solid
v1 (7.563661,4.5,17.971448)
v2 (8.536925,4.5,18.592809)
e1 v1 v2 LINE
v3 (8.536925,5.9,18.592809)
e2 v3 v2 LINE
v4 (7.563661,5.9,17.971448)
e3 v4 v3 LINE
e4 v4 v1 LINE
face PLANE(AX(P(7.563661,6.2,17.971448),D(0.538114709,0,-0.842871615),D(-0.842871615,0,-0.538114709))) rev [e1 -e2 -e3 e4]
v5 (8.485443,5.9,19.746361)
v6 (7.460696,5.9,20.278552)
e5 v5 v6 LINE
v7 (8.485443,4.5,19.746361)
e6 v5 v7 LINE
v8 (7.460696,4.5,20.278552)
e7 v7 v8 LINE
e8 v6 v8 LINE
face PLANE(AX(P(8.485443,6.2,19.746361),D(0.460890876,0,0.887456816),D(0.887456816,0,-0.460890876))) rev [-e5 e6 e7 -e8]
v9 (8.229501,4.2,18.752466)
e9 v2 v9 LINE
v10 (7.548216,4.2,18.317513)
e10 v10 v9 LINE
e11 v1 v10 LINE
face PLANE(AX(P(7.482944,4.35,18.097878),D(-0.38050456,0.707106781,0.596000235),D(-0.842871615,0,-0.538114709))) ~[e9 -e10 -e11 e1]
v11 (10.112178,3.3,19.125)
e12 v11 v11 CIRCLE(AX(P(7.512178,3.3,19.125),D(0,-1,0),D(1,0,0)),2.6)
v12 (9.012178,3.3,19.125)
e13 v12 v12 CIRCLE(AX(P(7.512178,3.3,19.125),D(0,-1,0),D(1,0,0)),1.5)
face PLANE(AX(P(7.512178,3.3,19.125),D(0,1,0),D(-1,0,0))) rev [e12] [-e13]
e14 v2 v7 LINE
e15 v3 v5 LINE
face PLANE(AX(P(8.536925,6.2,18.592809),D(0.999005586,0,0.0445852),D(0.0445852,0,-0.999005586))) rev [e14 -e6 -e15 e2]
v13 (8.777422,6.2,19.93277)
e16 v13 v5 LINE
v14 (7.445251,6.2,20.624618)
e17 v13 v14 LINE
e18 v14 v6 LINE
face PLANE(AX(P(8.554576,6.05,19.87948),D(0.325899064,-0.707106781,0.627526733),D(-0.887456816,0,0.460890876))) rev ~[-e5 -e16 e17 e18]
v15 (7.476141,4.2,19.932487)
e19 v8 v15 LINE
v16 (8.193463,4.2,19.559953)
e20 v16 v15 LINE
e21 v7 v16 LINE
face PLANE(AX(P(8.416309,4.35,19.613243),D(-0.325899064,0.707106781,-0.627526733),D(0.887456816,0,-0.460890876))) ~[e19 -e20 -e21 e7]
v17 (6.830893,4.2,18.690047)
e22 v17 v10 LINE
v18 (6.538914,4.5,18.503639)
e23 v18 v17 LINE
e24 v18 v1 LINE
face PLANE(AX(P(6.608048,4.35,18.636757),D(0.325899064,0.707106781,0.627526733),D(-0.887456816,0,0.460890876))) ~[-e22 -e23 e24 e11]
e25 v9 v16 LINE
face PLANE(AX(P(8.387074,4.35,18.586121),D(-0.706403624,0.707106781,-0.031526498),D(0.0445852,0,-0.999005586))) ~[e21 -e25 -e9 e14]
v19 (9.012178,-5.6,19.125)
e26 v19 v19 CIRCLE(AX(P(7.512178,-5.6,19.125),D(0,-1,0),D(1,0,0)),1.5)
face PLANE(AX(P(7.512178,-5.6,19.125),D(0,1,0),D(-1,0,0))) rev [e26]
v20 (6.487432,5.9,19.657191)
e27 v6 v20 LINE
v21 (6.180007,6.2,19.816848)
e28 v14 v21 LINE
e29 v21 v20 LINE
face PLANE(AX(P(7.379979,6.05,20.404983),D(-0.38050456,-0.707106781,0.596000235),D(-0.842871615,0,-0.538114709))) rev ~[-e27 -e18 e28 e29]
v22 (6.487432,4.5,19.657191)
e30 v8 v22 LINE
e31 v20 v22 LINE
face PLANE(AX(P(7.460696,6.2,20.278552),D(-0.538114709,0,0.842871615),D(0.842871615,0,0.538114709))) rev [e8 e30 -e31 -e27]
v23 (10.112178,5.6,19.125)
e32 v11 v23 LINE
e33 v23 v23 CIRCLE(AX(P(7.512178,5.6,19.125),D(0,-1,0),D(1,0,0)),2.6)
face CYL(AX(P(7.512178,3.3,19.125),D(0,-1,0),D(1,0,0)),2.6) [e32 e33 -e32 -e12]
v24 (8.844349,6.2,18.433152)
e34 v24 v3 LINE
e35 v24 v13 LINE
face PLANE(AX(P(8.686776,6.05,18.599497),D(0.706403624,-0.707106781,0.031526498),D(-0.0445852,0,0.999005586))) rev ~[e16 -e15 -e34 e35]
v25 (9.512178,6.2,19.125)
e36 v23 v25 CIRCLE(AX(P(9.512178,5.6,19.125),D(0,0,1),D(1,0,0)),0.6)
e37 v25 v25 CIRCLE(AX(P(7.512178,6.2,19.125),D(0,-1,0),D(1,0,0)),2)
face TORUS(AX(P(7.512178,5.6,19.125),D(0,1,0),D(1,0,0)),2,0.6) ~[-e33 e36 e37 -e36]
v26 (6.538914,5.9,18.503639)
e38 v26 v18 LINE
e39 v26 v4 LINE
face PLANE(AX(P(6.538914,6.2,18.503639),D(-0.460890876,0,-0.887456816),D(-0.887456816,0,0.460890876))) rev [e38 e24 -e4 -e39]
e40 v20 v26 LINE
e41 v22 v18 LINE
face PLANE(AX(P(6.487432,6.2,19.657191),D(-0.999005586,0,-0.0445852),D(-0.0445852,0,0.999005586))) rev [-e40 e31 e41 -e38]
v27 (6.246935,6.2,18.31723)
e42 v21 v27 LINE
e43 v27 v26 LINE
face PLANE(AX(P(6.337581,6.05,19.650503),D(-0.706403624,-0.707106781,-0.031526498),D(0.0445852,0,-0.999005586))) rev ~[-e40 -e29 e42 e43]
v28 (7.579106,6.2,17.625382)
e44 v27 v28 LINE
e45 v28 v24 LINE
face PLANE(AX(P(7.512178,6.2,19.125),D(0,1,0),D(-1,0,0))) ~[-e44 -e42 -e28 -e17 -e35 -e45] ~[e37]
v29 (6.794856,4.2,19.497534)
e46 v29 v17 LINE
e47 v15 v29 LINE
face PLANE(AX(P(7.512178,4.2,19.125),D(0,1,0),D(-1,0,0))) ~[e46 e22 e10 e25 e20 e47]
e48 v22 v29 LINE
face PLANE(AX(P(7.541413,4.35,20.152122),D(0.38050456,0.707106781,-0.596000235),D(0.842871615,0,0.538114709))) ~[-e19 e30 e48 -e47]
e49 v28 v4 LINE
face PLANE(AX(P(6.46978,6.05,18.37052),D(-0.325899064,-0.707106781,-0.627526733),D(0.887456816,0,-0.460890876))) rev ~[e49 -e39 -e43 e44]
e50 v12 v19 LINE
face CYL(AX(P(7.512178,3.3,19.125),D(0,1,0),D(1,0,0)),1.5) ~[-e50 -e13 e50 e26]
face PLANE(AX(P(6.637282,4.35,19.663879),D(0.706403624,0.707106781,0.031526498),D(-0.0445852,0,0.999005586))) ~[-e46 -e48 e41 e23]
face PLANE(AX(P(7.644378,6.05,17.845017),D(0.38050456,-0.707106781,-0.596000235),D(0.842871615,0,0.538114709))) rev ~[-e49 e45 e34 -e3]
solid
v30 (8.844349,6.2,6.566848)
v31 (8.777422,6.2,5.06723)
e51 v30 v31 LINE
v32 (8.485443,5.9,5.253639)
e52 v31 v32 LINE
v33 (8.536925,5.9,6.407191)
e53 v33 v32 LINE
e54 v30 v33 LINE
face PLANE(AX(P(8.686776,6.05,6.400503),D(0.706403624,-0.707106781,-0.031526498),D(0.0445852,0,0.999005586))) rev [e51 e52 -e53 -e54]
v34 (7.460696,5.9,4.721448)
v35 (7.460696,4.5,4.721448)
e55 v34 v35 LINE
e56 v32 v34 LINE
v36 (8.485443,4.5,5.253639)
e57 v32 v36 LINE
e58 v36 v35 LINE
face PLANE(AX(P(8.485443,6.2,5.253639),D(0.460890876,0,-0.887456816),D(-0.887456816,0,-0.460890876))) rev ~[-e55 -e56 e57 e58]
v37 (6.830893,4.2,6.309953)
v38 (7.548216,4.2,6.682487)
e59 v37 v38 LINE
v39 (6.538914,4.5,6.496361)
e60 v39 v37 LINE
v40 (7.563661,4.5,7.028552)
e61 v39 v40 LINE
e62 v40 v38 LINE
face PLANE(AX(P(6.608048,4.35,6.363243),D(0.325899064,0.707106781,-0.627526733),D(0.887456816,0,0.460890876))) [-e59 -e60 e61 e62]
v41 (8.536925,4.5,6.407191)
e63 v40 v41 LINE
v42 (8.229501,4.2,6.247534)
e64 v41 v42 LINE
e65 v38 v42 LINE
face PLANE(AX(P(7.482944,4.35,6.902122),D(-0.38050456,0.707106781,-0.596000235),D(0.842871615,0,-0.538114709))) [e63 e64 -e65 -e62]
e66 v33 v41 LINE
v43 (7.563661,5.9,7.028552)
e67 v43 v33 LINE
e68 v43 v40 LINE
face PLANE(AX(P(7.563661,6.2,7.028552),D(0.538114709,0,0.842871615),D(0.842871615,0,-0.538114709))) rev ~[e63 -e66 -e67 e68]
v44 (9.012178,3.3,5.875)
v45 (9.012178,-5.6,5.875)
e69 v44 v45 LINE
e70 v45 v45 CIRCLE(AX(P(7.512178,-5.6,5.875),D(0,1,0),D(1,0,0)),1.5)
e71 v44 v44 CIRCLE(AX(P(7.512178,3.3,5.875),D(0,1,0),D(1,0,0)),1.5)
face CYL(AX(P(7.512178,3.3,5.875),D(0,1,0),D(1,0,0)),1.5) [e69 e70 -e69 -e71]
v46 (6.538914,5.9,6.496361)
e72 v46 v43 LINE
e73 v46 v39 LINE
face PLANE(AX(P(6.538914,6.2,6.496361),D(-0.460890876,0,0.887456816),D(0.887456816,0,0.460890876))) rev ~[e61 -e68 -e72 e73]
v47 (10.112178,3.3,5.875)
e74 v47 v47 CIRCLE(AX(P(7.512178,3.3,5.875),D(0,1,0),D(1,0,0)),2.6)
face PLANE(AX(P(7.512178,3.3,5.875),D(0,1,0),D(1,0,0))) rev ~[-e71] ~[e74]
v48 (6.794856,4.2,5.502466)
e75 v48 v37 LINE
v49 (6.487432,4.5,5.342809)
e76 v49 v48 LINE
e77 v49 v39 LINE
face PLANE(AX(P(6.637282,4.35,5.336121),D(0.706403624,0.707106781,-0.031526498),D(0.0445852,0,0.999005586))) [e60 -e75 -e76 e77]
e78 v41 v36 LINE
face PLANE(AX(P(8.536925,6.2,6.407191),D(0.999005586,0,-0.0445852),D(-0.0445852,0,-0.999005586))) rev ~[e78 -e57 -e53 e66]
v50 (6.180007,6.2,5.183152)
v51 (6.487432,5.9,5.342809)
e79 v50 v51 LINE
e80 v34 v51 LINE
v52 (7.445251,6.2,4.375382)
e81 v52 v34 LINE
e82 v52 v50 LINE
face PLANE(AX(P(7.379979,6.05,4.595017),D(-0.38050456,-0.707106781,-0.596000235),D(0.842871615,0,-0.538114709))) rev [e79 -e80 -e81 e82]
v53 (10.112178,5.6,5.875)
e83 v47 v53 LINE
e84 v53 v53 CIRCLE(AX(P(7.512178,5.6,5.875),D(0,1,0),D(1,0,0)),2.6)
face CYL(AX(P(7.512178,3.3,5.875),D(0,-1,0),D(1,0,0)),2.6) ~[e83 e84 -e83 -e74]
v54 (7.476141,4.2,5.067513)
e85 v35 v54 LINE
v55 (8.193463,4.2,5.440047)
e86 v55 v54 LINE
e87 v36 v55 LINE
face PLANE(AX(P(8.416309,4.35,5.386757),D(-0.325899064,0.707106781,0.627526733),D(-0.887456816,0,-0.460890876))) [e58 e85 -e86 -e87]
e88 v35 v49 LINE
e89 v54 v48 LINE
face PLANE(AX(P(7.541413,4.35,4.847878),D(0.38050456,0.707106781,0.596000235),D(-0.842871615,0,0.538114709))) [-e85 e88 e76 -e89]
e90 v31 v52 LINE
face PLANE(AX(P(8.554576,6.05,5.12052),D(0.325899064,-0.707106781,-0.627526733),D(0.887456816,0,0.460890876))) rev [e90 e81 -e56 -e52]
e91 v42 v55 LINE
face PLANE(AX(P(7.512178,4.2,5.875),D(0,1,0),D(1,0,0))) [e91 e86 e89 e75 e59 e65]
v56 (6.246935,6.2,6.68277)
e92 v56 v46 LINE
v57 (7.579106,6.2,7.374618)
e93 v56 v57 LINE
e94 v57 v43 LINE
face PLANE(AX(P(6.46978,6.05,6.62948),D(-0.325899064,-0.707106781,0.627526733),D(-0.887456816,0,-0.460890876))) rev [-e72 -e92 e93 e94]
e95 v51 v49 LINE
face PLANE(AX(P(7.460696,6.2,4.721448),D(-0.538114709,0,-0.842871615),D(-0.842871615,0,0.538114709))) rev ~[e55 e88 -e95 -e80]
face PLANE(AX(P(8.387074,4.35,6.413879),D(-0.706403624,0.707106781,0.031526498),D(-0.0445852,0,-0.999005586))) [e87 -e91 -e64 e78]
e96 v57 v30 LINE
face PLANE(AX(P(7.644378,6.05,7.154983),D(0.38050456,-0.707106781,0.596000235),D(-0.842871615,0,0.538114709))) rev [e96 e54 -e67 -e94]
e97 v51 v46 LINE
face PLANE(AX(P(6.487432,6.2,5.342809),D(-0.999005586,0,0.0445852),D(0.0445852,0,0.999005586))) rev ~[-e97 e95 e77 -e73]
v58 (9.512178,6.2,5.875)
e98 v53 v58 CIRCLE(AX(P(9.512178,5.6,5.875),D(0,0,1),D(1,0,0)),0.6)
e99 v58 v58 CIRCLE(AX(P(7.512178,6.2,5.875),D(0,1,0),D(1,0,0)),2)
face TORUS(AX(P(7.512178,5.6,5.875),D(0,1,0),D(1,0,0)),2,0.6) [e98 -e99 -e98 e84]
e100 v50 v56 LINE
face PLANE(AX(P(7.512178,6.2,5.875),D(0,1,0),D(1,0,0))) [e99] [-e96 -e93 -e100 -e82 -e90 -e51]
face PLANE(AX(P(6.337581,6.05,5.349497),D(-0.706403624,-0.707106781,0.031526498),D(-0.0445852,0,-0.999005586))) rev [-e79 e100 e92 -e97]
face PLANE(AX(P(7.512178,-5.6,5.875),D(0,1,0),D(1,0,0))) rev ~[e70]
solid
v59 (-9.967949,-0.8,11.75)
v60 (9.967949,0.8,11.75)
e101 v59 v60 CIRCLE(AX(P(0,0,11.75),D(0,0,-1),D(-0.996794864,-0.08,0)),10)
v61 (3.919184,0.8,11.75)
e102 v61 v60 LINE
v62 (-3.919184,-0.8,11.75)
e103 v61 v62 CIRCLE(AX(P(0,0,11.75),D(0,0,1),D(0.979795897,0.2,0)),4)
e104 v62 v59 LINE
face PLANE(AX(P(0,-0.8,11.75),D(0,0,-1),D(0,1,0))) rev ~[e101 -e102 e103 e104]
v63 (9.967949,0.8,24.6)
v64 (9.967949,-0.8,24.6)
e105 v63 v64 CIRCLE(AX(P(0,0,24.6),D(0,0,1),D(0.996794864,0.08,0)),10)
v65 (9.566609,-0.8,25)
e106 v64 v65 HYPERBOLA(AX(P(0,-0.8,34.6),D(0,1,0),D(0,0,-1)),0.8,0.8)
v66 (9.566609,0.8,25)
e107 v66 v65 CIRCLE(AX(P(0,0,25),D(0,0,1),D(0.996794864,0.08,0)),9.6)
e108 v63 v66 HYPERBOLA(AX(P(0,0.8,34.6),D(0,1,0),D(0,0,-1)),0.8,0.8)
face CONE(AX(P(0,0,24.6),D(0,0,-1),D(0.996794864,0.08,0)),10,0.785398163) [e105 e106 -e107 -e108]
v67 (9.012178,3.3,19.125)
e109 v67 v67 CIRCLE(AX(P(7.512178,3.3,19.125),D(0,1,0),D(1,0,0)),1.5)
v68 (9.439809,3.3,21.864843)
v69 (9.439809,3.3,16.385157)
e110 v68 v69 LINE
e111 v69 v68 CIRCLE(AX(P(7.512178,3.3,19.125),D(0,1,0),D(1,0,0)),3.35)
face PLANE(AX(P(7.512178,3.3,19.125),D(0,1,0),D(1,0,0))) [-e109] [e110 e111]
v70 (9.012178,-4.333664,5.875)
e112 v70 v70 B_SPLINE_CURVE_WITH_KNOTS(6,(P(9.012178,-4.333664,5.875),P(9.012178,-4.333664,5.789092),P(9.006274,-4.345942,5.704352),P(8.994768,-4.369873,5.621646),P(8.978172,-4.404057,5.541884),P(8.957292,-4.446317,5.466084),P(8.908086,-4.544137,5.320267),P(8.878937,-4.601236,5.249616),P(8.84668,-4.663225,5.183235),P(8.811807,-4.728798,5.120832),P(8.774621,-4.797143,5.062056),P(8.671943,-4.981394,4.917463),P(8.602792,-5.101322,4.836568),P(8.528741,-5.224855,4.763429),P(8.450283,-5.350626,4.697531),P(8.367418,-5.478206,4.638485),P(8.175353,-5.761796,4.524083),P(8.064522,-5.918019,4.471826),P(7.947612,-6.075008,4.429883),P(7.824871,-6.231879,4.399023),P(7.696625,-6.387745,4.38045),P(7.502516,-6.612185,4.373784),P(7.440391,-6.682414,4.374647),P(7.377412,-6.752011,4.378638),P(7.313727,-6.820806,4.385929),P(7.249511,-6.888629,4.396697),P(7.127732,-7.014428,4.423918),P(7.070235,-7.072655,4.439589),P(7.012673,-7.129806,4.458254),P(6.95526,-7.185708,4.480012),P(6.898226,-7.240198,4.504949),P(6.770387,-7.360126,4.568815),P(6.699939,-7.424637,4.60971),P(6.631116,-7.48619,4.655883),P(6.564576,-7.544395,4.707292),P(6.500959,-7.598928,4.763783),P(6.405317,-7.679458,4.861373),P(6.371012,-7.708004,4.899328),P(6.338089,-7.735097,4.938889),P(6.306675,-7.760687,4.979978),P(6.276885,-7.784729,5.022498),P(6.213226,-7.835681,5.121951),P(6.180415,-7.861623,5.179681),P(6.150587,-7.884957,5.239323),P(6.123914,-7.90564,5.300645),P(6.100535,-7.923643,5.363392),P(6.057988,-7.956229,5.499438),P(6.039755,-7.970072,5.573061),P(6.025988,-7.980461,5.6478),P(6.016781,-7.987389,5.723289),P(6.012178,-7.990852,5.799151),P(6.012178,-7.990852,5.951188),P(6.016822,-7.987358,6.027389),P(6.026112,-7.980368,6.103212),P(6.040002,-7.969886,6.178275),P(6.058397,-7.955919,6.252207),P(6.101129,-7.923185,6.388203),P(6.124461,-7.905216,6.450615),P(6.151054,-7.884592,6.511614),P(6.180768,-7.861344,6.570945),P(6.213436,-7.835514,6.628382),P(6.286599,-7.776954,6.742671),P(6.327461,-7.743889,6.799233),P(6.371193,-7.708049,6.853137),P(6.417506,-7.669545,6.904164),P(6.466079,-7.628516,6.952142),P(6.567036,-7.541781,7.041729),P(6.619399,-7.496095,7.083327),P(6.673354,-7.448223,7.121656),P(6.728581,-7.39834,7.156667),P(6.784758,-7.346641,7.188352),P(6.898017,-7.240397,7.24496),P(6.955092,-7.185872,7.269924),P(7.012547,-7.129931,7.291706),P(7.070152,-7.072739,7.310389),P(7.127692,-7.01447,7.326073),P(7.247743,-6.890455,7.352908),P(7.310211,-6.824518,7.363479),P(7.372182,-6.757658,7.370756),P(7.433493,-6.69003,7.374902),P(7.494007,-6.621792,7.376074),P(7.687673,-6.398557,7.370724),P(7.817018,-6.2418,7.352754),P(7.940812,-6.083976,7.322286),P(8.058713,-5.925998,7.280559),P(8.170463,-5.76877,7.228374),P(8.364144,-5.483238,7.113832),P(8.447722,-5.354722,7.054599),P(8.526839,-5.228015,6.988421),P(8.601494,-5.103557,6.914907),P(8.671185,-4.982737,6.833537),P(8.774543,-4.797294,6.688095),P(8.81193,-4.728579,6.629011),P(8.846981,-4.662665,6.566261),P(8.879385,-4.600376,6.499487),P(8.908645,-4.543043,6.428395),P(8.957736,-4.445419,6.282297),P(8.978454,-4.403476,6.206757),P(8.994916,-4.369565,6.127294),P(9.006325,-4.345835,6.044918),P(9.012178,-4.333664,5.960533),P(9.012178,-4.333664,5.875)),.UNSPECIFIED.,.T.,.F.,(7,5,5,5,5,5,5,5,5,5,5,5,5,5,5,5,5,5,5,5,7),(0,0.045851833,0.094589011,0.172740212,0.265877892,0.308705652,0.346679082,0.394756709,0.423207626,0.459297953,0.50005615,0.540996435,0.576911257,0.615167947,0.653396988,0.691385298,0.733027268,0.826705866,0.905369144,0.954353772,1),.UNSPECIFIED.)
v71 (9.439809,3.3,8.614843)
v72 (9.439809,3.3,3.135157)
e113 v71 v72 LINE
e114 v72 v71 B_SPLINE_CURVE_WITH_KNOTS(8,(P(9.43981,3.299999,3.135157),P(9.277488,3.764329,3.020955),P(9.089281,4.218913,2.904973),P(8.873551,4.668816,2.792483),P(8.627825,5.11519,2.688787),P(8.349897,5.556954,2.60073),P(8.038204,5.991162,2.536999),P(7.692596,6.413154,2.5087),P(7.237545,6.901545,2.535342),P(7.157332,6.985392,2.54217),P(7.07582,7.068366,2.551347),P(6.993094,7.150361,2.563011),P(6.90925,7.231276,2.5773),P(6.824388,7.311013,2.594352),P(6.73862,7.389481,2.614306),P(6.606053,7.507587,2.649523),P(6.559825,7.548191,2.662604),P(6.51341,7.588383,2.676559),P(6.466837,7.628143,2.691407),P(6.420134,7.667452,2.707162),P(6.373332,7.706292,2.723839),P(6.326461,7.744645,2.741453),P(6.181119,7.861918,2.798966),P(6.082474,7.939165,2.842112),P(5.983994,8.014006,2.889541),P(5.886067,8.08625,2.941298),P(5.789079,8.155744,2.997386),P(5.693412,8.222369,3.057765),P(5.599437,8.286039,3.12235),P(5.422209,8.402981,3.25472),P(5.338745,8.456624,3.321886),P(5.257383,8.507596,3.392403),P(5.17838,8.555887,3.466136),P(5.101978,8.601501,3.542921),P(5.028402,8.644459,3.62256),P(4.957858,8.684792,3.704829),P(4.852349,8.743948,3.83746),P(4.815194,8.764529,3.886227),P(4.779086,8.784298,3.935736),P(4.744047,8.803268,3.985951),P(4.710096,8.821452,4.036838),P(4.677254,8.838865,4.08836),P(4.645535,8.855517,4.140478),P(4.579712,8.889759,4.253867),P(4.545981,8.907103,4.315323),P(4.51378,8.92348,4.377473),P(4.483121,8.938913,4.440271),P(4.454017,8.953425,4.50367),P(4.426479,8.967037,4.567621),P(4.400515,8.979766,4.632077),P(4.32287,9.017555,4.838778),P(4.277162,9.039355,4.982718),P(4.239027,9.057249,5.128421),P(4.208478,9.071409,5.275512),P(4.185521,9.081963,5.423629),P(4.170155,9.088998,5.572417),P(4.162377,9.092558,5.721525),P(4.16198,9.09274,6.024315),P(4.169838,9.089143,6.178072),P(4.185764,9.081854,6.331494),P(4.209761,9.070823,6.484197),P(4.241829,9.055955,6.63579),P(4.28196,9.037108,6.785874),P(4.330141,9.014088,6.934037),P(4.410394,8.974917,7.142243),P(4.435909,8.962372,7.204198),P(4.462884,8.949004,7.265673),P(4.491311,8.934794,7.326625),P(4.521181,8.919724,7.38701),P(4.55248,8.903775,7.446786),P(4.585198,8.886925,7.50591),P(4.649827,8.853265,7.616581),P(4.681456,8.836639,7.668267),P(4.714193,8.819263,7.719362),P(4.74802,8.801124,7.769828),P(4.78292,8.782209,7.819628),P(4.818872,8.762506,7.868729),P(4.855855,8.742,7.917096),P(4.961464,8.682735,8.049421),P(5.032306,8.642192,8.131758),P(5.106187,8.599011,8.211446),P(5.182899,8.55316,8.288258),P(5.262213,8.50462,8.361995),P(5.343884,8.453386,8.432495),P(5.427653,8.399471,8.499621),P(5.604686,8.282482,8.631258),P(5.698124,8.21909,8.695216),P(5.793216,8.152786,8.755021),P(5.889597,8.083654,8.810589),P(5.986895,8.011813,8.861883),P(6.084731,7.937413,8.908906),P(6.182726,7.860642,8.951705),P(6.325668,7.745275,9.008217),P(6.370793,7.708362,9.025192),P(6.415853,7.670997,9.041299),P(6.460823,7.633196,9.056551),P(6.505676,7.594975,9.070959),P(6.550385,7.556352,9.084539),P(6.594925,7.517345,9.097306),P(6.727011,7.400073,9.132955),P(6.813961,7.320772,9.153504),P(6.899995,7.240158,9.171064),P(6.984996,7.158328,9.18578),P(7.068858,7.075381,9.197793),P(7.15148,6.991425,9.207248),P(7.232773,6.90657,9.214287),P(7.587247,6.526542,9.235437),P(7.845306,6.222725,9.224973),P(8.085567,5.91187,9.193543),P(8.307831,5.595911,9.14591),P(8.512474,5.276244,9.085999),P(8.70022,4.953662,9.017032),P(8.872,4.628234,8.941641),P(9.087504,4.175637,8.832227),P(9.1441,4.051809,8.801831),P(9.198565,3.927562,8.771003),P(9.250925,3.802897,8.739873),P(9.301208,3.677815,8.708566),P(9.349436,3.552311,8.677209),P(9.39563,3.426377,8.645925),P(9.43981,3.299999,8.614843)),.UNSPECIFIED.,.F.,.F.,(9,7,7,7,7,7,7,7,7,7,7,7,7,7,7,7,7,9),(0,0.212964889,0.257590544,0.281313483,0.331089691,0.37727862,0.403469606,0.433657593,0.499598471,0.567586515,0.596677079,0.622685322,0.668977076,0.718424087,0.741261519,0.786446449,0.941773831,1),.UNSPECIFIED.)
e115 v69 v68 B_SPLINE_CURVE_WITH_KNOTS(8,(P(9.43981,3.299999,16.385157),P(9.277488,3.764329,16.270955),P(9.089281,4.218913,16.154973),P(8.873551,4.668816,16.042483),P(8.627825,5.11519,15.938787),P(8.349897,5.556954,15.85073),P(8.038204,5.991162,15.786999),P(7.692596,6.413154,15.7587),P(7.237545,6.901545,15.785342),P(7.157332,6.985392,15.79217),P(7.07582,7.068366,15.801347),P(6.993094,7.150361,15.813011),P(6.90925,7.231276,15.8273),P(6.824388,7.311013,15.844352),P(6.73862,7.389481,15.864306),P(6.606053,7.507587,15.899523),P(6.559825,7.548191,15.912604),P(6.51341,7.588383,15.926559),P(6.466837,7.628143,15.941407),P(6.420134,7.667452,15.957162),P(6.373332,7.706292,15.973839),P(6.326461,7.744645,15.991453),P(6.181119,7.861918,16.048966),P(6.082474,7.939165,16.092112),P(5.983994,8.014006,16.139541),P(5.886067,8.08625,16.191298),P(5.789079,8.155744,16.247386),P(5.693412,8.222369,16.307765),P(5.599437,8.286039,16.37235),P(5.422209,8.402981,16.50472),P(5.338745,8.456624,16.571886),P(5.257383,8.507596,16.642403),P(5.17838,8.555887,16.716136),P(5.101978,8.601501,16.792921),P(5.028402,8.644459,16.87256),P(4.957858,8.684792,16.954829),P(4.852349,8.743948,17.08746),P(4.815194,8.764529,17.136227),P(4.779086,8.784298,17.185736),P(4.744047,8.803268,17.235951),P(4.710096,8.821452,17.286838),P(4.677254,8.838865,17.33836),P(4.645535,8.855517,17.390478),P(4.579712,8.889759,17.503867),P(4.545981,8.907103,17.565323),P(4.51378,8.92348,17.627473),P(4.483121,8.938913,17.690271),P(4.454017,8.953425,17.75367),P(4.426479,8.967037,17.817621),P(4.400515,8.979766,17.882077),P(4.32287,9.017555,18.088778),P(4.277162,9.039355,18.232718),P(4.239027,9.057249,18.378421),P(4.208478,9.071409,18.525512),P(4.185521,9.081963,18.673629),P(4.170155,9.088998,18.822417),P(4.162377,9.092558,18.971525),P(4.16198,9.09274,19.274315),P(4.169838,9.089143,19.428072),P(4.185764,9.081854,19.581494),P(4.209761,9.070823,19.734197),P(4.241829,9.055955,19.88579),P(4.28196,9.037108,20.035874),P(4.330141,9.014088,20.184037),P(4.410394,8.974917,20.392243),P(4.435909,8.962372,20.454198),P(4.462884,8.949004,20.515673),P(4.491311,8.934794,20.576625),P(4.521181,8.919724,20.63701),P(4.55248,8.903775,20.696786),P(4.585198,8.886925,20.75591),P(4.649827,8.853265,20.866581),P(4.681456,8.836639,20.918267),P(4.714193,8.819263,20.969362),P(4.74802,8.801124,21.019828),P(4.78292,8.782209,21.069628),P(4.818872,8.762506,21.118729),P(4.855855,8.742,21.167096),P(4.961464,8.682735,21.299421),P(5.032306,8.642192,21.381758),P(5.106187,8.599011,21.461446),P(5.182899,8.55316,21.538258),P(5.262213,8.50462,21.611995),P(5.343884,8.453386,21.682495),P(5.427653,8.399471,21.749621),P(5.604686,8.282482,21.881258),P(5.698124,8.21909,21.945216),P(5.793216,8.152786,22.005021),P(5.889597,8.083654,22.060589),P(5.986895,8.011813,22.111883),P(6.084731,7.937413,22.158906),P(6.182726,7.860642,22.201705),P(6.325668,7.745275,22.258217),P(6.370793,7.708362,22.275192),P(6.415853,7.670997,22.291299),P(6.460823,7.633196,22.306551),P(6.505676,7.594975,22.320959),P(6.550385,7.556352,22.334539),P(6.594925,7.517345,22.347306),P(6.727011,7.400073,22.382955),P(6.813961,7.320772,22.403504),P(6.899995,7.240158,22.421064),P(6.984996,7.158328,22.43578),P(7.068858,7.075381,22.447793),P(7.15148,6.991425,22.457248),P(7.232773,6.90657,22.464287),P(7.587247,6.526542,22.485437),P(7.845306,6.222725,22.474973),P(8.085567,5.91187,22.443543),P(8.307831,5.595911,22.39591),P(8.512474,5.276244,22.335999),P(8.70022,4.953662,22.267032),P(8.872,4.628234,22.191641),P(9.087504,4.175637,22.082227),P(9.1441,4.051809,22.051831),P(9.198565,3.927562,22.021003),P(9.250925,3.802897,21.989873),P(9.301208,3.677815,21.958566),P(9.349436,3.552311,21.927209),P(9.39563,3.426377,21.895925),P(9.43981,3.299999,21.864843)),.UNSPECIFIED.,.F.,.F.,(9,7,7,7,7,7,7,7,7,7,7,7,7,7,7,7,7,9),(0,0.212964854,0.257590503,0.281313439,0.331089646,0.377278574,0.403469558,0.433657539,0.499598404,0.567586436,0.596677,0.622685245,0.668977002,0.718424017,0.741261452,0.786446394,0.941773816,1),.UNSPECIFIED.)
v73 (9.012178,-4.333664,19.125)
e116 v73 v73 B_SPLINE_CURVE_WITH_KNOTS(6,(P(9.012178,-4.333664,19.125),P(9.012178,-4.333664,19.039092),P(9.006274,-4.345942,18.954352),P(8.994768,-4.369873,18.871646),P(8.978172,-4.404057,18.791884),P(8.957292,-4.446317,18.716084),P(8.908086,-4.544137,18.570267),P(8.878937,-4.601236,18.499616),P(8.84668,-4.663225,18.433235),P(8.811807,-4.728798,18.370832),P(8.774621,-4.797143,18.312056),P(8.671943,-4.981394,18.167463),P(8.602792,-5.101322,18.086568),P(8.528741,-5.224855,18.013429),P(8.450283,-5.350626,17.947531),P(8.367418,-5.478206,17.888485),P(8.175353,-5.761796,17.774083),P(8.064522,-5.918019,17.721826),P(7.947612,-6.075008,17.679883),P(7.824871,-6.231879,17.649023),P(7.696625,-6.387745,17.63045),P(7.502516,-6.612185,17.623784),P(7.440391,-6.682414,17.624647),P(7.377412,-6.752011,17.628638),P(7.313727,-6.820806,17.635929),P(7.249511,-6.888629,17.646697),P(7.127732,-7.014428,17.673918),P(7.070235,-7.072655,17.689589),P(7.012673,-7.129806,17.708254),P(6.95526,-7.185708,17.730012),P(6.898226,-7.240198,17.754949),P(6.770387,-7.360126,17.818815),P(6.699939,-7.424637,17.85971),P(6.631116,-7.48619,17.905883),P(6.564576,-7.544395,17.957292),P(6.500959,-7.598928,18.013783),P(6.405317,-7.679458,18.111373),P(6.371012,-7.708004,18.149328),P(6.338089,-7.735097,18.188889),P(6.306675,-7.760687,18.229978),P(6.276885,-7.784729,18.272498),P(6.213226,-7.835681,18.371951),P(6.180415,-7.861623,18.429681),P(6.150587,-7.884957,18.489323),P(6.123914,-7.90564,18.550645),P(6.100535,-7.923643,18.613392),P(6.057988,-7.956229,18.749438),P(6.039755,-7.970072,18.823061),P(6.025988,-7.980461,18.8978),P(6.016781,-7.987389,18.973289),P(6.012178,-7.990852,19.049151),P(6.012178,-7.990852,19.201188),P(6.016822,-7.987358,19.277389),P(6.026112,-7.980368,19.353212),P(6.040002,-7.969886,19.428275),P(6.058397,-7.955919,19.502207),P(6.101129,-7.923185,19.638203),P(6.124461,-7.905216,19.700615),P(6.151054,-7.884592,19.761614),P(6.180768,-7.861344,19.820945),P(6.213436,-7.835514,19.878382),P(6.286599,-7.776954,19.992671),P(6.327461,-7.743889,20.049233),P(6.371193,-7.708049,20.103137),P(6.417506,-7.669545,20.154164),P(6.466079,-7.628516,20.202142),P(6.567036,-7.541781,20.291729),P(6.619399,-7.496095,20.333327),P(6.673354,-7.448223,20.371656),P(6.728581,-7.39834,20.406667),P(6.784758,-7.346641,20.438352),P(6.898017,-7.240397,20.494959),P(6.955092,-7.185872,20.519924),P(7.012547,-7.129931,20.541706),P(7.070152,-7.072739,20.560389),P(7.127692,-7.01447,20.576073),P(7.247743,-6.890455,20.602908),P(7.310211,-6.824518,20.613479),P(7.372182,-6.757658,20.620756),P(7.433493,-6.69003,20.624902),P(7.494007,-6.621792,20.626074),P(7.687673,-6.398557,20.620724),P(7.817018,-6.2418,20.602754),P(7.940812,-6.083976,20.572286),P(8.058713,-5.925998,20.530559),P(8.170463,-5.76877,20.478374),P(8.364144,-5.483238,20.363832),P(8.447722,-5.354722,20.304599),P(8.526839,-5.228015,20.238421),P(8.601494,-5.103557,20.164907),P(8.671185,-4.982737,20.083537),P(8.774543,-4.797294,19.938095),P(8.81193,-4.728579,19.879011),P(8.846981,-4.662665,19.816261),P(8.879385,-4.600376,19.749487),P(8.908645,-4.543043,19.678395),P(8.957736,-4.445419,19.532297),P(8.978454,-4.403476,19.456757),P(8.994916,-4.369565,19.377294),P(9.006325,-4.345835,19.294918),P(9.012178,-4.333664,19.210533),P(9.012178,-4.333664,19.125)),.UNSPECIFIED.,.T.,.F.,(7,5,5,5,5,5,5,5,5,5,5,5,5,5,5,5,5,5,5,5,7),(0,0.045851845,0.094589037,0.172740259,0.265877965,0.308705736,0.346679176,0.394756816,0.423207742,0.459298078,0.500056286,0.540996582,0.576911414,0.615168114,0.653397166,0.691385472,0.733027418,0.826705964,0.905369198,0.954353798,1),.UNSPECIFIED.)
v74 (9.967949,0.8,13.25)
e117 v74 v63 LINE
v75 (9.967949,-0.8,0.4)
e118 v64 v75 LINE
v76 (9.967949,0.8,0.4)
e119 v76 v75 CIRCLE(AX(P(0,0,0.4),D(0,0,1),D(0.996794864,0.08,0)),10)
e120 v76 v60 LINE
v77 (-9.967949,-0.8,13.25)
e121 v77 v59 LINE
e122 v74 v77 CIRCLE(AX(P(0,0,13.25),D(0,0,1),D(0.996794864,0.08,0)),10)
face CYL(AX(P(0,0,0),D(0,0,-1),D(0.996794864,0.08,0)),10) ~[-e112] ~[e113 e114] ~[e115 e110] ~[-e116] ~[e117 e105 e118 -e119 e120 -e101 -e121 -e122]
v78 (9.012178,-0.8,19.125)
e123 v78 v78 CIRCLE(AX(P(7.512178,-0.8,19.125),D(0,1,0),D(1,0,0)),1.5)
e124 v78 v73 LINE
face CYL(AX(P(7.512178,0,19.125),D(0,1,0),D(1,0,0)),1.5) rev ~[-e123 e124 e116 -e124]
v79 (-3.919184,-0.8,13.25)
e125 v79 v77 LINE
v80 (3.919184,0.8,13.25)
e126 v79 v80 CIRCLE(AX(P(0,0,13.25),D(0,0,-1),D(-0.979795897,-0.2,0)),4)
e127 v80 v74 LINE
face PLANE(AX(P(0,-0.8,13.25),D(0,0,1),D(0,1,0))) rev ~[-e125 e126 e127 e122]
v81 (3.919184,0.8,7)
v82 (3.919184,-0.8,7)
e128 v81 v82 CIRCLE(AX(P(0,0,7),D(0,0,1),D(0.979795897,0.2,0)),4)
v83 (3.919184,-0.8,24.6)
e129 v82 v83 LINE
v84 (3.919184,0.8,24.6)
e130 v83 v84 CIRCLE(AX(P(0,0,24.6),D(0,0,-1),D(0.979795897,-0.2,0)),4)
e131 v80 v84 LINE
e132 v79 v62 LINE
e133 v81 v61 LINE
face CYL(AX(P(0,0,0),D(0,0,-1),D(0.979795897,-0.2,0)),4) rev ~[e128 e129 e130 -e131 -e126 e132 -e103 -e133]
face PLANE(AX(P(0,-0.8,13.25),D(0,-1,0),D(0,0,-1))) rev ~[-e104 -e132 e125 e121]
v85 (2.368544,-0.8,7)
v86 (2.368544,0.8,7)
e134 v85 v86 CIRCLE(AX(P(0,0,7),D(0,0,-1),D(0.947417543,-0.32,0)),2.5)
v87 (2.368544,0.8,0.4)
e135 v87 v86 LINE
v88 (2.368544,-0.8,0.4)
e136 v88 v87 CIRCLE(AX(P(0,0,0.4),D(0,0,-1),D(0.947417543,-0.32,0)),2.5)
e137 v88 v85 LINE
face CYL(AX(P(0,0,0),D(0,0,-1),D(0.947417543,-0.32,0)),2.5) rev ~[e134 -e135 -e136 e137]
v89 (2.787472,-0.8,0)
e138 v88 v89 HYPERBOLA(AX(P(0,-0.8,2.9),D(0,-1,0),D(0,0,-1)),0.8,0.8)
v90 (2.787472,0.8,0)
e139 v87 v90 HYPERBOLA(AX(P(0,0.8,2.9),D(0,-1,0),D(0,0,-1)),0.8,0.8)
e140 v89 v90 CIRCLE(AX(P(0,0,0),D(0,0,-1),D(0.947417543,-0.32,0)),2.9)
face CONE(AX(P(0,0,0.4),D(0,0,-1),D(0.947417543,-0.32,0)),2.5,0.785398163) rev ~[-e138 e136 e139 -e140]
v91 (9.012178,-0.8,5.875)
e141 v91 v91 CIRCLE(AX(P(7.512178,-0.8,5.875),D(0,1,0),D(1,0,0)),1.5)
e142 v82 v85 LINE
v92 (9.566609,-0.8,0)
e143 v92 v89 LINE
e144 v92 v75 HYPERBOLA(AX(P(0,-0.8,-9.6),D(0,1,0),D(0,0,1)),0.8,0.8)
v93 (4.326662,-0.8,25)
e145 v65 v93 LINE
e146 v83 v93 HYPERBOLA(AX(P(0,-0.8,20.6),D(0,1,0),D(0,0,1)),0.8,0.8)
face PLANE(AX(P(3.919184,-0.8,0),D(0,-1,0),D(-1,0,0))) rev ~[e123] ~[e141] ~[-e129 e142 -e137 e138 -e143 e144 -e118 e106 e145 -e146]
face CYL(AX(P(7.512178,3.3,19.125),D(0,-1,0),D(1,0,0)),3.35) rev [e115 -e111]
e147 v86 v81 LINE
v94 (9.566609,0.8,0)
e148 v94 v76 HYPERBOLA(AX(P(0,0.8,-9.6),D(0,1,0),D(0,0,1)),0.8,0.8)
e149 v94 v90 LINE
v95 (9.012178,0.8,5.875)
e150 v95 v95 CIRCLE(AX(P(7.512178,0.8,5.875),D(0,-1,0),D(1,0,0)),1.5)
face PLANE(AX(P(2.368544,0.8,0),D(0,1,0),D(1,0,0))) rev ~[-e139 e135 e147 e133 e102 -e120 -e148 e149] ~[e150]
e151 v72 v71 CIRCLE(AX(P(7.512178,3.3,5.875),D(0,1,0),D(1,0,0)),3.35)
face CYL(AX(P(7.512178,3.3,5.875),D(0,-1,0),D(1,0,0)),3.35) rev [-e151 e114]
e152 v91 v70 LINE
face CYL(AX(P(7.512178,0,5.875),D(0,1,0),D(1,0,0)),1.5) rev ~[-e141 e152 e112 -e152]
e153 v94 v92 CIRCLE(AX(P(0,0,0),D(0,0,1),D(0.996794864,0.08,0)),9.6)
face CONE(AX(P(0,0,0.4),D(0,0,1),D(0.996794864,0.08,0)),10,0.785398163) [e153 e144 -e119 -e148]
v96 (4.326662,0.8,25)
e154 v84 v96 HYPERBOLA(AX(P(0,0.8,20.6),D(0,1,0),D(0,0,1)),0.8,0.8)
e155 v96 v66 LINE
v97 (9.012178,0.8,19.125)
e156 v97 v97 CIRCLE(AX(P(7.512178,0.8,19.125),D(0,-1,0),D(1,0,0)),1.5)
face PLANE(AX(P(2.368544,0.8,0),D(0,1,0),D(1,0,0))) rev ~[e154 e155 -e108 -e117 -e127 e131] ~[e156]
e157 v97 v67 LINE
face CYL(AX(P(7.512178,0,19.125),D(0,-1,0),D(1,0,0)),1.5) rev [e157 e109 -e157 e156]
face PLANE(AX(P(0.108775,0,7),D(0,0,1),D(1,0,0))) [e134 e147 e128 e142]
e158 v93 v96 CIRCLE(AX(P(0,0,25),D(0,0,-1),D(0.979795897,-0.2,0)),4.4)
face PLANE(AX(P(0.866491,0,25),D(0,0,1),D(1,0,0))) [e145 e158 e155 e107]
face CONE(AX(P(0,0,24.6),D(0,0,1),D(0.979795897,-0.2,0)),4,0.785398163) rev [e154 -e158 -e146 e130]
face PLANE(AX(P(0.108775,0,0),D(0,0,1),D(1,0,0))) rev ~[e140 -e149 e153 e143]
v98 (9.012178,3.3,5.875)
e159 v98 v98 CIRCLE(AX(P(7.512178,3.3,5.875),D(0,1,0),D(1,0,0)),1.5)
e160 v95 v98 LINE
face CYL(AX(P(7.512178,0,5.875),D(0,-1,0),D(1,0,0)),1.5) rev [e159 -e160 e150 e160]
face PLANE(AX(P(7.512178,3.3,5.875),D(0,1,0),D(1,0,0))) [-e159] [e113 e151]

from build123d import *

# Parameters (mm, degrees)
EXTRUDE_1_DEPTH          = 25
EXTRUDE_2_DEPTH          = 7
SKETCH_2_W               = 1.5
SKETCH_2_H               = 14.459173422
CUT_EXTRUDE_1_DEPTH      = 10.967948636
CUT_EXTRUDE_1_DEPTH_BACK = 11
SKETCH_3_R               = 1.5
CUT_EXTRUDE_2_DEPTH      = 11
CUT_EXTRUDE_2_DEPTH_BACK = 11
CUT_EXTRUDE_START        = 3.3
SKETCH_3_3_R             = 3.35
SKETCH_3_3_R_2           = 1.5
CUT_EXTRUDE_3_DEPTH      = 7.7000001
CHAMFER_1_SIZE           = 0.4
SKETCH_4_R               = 2.6
EXTRUDE_3_DEPTH          = 2.9
SKETCH_4_3_R             = 1.5
EXTRUDE_4_DEPTH          = 8.9
CUT_EXTRUDE_4_DEPTH      = 2
FILLET_1_R               = 0.6
CHAMFER_2_SIZE           = 0.3


with BuildPart() as part:
    # Эскиз1 → Бобышка-Вытянуть1 (new body)
    with BuildSketch(Plane.XY):
        with BuildLine():
            Line((9.967948636, -0.8), (3.919183588, -0.8))
            ThreePointArc((3.919183588, -0.8), (-4, 0), (3.919183588, 0.8))
            Line((3.919183588, 0.8), (9.967948636, 0.8))
            ThreePointArc((9.967948636, 0.8), (-10, 0), (9.967948636, -0.8))
        make_face()
    extrude(amount=EXTRUDE_1_DEPTH)

    # Эскиз1<3> → Бобышка-Вытянуть2 (add)
    with BuildSketch(Plane.XY):
        with BuildLine():
            Line((3.919183588, -0.8), (2.368543856, -0.8))
            ThreePointArc((2.368543856, -0.8), (-2.5, 0), (2.368543856, 0.8))
            Line((2.368543856, 0.8), (3.919183588, 0.8))
            ThreePointArc((3.919183588, 0.8), (-4, 0), (3.919183588, -0.8))
        make_face()
    extrude(amount=EXTRUDE_2_DEPTH)

    # Эскиз2 → Вырез-Вытянуть1 (cut, two sides)
    with BuildSketch(Plane(origin=(0, 0, 0), x_dir=(0, 0, -1), z_dir=(1, 0, 0))) as cut_extrude_1_sk:
        with Locations((-12.5, 6.429586711)):
            Rectangle(SKETCH_2_W, SKETCH_2_H)
    extrude(amount=CUT_EXTRUDE_1_DEPTH, mode=Mode.SUBTRACT)
    extrude(cut_extrude_1_sk.sketch, amount=-CUT_EXTRUDE_1_DEPTH_BACK, mode=Mode.SUBTRACT)

    # Эскиз3 → Вырез-Вытянуть2 (cut, two sides)
    with BuildSketch(Plane(origin=(0, 0, 0), x_dir=(1, 0, 0), z_dir=(0, 1, 0))) as cut_extrude_2_sk:
        with Locations((7.512178364, -19.125)):
            Circle(SKETCH_3_R)
        with Locations((7.512178364, -5.875)):
            Circle(SKETCH_3_R)
    extrude(amount=CUT_EXTRUDE_2_DEPTH, mode=Mode.SUBTRACT)
    extrude(cut_extrude_2_sk.sketch, amount=-CUT_EXTRUDE_2_DEPTH_BACK, mode=Mode.SUBTRACT)

    # Эскиз3<3> → Вырез-Вытянуть3 (cut, through all)
    with BuildSketch(Plane(origin=(0, 0, 0), x_dir=(1, 0, 0), z_dir=(0, 1, 0)).offset(CUT_EXTRUDE_START)):
        with Locations((7.512178364, -19.125)):
            Circle(SKETCH_3_3_R)
        with Locations((7.512178364, -19.125)):
            Circle(SKETCH_3_3_R_2, mode=Mode.SUBTRACT)
        with Locations((7.512178364, -5.875)):
            Circle(SKETCH_3_3_R)
        with Locations((7.512178364, -5.875)):
            Circle(SKETCH_3_3_R_2, mode=Mode.SUBTRACT)
    extrude(amount=CUT_EXTRUDE_3_DEPTH, mode=Mode.SUBTRACT)

    # Фаска1
    chamfer_1_edges = [part.edges().sort_by_distance(p)[0] for p in [
        (-10, 0, 25),
        (-2.5, 0, 0),
        (-4, 0, 25),
        (-10, 0, 0),
    ]]
    chamfer(chamfer_1_edges, length=CHAMFER_1_SIZE)


with BuildPart() as body_2:
    # Эскиз4 → Бобышка-Вытянуть3 (new body)
    with BuildSketch(Plane(origin=(0, 3.3, 0), x_dir=(1, 0, 0), z_dir=(0, 1, 0))):
        with Locations((7.512178364, -5.875)):
            Circle(SKETCH_4_R)
    extrude(amount=EXTRUDE_3_DEPTH)

    # Эскиз4<3> → Бобышка-Вытянуть4 (add)
    with BuildSketch(Plane(origin=(0, 3.3, 0), x_dir=(1, 0, 0), z_dir=(0, 1, 0))):
        with Locations((7.512178364, -5.875)):
            Circle(SKETCH_4_3_R)
    extrude(amount=-EXTRUDE_4_DEPTH)

    # Эскиз5 → Вырез-Вытянуть4 (cut)
    with BuildSketch(Plane(origin=(0, 6.2, 0), x_dir=(1, 0, 0), z_dir=(0, 1, 0))):
        Polygon((8.485442672, -5.253638656), (7.460695809, -4.721447713), (6.487431501, -5.342809057), (6.538914056, -6.496361344), (7.563660919, -7.028552287), (8.536925227, -6.407190943), align=None)
    extrude(amount=-CUT_EXTRUDE_4_DEPTH, mode=Mode.SUBTRACT)

    # Скругление1
    fillet_1_edges = [body_2.edges().sort_by_distance(p)[0] for p in [
        (4.912178364, 6.2, 5.875),
    ]]
    fillet(fillet_1_edges, radius=FILLET_1_R)

    # Фаска2
    chamfer_2_edges = [body_2.edges().sort_by_distance(p)[0] for p in [
        (8.51118395, 4.2, 5.8304148),
        (8.050293073, 4.2, 6.717871615),
        (7.051287488, 4.2, 6.762456816),
        (6.513172779, 4.2, 5.9195852),
        (6.974063655, 4.2, 5.032128385),
        (7.973069241, 4.2, 4.987543184),
        (8.51118395, 6.2, 5.8304148),
        (7.973069241, 6.2, 4.987543184),
        (6.974063655, 6.2, 5.032128385),
        (6.513172779, 6.2, 5.9195852),
        (7.051287488, 6.2, 6.762456816),
        (8.050293073, 6.2, 6.717871615),
    ]]
    chamfer(chamfer_2_edges, length=CHAMFER_2_SIZE)


with BuildPart() as body_3:
    # Зеркальное отражение1: mirrored copy
    add(body_2.part.mirror(Plane.XY.offset(12.5)))


solid = Compound([part.part, body_2.part, body_3.part])
